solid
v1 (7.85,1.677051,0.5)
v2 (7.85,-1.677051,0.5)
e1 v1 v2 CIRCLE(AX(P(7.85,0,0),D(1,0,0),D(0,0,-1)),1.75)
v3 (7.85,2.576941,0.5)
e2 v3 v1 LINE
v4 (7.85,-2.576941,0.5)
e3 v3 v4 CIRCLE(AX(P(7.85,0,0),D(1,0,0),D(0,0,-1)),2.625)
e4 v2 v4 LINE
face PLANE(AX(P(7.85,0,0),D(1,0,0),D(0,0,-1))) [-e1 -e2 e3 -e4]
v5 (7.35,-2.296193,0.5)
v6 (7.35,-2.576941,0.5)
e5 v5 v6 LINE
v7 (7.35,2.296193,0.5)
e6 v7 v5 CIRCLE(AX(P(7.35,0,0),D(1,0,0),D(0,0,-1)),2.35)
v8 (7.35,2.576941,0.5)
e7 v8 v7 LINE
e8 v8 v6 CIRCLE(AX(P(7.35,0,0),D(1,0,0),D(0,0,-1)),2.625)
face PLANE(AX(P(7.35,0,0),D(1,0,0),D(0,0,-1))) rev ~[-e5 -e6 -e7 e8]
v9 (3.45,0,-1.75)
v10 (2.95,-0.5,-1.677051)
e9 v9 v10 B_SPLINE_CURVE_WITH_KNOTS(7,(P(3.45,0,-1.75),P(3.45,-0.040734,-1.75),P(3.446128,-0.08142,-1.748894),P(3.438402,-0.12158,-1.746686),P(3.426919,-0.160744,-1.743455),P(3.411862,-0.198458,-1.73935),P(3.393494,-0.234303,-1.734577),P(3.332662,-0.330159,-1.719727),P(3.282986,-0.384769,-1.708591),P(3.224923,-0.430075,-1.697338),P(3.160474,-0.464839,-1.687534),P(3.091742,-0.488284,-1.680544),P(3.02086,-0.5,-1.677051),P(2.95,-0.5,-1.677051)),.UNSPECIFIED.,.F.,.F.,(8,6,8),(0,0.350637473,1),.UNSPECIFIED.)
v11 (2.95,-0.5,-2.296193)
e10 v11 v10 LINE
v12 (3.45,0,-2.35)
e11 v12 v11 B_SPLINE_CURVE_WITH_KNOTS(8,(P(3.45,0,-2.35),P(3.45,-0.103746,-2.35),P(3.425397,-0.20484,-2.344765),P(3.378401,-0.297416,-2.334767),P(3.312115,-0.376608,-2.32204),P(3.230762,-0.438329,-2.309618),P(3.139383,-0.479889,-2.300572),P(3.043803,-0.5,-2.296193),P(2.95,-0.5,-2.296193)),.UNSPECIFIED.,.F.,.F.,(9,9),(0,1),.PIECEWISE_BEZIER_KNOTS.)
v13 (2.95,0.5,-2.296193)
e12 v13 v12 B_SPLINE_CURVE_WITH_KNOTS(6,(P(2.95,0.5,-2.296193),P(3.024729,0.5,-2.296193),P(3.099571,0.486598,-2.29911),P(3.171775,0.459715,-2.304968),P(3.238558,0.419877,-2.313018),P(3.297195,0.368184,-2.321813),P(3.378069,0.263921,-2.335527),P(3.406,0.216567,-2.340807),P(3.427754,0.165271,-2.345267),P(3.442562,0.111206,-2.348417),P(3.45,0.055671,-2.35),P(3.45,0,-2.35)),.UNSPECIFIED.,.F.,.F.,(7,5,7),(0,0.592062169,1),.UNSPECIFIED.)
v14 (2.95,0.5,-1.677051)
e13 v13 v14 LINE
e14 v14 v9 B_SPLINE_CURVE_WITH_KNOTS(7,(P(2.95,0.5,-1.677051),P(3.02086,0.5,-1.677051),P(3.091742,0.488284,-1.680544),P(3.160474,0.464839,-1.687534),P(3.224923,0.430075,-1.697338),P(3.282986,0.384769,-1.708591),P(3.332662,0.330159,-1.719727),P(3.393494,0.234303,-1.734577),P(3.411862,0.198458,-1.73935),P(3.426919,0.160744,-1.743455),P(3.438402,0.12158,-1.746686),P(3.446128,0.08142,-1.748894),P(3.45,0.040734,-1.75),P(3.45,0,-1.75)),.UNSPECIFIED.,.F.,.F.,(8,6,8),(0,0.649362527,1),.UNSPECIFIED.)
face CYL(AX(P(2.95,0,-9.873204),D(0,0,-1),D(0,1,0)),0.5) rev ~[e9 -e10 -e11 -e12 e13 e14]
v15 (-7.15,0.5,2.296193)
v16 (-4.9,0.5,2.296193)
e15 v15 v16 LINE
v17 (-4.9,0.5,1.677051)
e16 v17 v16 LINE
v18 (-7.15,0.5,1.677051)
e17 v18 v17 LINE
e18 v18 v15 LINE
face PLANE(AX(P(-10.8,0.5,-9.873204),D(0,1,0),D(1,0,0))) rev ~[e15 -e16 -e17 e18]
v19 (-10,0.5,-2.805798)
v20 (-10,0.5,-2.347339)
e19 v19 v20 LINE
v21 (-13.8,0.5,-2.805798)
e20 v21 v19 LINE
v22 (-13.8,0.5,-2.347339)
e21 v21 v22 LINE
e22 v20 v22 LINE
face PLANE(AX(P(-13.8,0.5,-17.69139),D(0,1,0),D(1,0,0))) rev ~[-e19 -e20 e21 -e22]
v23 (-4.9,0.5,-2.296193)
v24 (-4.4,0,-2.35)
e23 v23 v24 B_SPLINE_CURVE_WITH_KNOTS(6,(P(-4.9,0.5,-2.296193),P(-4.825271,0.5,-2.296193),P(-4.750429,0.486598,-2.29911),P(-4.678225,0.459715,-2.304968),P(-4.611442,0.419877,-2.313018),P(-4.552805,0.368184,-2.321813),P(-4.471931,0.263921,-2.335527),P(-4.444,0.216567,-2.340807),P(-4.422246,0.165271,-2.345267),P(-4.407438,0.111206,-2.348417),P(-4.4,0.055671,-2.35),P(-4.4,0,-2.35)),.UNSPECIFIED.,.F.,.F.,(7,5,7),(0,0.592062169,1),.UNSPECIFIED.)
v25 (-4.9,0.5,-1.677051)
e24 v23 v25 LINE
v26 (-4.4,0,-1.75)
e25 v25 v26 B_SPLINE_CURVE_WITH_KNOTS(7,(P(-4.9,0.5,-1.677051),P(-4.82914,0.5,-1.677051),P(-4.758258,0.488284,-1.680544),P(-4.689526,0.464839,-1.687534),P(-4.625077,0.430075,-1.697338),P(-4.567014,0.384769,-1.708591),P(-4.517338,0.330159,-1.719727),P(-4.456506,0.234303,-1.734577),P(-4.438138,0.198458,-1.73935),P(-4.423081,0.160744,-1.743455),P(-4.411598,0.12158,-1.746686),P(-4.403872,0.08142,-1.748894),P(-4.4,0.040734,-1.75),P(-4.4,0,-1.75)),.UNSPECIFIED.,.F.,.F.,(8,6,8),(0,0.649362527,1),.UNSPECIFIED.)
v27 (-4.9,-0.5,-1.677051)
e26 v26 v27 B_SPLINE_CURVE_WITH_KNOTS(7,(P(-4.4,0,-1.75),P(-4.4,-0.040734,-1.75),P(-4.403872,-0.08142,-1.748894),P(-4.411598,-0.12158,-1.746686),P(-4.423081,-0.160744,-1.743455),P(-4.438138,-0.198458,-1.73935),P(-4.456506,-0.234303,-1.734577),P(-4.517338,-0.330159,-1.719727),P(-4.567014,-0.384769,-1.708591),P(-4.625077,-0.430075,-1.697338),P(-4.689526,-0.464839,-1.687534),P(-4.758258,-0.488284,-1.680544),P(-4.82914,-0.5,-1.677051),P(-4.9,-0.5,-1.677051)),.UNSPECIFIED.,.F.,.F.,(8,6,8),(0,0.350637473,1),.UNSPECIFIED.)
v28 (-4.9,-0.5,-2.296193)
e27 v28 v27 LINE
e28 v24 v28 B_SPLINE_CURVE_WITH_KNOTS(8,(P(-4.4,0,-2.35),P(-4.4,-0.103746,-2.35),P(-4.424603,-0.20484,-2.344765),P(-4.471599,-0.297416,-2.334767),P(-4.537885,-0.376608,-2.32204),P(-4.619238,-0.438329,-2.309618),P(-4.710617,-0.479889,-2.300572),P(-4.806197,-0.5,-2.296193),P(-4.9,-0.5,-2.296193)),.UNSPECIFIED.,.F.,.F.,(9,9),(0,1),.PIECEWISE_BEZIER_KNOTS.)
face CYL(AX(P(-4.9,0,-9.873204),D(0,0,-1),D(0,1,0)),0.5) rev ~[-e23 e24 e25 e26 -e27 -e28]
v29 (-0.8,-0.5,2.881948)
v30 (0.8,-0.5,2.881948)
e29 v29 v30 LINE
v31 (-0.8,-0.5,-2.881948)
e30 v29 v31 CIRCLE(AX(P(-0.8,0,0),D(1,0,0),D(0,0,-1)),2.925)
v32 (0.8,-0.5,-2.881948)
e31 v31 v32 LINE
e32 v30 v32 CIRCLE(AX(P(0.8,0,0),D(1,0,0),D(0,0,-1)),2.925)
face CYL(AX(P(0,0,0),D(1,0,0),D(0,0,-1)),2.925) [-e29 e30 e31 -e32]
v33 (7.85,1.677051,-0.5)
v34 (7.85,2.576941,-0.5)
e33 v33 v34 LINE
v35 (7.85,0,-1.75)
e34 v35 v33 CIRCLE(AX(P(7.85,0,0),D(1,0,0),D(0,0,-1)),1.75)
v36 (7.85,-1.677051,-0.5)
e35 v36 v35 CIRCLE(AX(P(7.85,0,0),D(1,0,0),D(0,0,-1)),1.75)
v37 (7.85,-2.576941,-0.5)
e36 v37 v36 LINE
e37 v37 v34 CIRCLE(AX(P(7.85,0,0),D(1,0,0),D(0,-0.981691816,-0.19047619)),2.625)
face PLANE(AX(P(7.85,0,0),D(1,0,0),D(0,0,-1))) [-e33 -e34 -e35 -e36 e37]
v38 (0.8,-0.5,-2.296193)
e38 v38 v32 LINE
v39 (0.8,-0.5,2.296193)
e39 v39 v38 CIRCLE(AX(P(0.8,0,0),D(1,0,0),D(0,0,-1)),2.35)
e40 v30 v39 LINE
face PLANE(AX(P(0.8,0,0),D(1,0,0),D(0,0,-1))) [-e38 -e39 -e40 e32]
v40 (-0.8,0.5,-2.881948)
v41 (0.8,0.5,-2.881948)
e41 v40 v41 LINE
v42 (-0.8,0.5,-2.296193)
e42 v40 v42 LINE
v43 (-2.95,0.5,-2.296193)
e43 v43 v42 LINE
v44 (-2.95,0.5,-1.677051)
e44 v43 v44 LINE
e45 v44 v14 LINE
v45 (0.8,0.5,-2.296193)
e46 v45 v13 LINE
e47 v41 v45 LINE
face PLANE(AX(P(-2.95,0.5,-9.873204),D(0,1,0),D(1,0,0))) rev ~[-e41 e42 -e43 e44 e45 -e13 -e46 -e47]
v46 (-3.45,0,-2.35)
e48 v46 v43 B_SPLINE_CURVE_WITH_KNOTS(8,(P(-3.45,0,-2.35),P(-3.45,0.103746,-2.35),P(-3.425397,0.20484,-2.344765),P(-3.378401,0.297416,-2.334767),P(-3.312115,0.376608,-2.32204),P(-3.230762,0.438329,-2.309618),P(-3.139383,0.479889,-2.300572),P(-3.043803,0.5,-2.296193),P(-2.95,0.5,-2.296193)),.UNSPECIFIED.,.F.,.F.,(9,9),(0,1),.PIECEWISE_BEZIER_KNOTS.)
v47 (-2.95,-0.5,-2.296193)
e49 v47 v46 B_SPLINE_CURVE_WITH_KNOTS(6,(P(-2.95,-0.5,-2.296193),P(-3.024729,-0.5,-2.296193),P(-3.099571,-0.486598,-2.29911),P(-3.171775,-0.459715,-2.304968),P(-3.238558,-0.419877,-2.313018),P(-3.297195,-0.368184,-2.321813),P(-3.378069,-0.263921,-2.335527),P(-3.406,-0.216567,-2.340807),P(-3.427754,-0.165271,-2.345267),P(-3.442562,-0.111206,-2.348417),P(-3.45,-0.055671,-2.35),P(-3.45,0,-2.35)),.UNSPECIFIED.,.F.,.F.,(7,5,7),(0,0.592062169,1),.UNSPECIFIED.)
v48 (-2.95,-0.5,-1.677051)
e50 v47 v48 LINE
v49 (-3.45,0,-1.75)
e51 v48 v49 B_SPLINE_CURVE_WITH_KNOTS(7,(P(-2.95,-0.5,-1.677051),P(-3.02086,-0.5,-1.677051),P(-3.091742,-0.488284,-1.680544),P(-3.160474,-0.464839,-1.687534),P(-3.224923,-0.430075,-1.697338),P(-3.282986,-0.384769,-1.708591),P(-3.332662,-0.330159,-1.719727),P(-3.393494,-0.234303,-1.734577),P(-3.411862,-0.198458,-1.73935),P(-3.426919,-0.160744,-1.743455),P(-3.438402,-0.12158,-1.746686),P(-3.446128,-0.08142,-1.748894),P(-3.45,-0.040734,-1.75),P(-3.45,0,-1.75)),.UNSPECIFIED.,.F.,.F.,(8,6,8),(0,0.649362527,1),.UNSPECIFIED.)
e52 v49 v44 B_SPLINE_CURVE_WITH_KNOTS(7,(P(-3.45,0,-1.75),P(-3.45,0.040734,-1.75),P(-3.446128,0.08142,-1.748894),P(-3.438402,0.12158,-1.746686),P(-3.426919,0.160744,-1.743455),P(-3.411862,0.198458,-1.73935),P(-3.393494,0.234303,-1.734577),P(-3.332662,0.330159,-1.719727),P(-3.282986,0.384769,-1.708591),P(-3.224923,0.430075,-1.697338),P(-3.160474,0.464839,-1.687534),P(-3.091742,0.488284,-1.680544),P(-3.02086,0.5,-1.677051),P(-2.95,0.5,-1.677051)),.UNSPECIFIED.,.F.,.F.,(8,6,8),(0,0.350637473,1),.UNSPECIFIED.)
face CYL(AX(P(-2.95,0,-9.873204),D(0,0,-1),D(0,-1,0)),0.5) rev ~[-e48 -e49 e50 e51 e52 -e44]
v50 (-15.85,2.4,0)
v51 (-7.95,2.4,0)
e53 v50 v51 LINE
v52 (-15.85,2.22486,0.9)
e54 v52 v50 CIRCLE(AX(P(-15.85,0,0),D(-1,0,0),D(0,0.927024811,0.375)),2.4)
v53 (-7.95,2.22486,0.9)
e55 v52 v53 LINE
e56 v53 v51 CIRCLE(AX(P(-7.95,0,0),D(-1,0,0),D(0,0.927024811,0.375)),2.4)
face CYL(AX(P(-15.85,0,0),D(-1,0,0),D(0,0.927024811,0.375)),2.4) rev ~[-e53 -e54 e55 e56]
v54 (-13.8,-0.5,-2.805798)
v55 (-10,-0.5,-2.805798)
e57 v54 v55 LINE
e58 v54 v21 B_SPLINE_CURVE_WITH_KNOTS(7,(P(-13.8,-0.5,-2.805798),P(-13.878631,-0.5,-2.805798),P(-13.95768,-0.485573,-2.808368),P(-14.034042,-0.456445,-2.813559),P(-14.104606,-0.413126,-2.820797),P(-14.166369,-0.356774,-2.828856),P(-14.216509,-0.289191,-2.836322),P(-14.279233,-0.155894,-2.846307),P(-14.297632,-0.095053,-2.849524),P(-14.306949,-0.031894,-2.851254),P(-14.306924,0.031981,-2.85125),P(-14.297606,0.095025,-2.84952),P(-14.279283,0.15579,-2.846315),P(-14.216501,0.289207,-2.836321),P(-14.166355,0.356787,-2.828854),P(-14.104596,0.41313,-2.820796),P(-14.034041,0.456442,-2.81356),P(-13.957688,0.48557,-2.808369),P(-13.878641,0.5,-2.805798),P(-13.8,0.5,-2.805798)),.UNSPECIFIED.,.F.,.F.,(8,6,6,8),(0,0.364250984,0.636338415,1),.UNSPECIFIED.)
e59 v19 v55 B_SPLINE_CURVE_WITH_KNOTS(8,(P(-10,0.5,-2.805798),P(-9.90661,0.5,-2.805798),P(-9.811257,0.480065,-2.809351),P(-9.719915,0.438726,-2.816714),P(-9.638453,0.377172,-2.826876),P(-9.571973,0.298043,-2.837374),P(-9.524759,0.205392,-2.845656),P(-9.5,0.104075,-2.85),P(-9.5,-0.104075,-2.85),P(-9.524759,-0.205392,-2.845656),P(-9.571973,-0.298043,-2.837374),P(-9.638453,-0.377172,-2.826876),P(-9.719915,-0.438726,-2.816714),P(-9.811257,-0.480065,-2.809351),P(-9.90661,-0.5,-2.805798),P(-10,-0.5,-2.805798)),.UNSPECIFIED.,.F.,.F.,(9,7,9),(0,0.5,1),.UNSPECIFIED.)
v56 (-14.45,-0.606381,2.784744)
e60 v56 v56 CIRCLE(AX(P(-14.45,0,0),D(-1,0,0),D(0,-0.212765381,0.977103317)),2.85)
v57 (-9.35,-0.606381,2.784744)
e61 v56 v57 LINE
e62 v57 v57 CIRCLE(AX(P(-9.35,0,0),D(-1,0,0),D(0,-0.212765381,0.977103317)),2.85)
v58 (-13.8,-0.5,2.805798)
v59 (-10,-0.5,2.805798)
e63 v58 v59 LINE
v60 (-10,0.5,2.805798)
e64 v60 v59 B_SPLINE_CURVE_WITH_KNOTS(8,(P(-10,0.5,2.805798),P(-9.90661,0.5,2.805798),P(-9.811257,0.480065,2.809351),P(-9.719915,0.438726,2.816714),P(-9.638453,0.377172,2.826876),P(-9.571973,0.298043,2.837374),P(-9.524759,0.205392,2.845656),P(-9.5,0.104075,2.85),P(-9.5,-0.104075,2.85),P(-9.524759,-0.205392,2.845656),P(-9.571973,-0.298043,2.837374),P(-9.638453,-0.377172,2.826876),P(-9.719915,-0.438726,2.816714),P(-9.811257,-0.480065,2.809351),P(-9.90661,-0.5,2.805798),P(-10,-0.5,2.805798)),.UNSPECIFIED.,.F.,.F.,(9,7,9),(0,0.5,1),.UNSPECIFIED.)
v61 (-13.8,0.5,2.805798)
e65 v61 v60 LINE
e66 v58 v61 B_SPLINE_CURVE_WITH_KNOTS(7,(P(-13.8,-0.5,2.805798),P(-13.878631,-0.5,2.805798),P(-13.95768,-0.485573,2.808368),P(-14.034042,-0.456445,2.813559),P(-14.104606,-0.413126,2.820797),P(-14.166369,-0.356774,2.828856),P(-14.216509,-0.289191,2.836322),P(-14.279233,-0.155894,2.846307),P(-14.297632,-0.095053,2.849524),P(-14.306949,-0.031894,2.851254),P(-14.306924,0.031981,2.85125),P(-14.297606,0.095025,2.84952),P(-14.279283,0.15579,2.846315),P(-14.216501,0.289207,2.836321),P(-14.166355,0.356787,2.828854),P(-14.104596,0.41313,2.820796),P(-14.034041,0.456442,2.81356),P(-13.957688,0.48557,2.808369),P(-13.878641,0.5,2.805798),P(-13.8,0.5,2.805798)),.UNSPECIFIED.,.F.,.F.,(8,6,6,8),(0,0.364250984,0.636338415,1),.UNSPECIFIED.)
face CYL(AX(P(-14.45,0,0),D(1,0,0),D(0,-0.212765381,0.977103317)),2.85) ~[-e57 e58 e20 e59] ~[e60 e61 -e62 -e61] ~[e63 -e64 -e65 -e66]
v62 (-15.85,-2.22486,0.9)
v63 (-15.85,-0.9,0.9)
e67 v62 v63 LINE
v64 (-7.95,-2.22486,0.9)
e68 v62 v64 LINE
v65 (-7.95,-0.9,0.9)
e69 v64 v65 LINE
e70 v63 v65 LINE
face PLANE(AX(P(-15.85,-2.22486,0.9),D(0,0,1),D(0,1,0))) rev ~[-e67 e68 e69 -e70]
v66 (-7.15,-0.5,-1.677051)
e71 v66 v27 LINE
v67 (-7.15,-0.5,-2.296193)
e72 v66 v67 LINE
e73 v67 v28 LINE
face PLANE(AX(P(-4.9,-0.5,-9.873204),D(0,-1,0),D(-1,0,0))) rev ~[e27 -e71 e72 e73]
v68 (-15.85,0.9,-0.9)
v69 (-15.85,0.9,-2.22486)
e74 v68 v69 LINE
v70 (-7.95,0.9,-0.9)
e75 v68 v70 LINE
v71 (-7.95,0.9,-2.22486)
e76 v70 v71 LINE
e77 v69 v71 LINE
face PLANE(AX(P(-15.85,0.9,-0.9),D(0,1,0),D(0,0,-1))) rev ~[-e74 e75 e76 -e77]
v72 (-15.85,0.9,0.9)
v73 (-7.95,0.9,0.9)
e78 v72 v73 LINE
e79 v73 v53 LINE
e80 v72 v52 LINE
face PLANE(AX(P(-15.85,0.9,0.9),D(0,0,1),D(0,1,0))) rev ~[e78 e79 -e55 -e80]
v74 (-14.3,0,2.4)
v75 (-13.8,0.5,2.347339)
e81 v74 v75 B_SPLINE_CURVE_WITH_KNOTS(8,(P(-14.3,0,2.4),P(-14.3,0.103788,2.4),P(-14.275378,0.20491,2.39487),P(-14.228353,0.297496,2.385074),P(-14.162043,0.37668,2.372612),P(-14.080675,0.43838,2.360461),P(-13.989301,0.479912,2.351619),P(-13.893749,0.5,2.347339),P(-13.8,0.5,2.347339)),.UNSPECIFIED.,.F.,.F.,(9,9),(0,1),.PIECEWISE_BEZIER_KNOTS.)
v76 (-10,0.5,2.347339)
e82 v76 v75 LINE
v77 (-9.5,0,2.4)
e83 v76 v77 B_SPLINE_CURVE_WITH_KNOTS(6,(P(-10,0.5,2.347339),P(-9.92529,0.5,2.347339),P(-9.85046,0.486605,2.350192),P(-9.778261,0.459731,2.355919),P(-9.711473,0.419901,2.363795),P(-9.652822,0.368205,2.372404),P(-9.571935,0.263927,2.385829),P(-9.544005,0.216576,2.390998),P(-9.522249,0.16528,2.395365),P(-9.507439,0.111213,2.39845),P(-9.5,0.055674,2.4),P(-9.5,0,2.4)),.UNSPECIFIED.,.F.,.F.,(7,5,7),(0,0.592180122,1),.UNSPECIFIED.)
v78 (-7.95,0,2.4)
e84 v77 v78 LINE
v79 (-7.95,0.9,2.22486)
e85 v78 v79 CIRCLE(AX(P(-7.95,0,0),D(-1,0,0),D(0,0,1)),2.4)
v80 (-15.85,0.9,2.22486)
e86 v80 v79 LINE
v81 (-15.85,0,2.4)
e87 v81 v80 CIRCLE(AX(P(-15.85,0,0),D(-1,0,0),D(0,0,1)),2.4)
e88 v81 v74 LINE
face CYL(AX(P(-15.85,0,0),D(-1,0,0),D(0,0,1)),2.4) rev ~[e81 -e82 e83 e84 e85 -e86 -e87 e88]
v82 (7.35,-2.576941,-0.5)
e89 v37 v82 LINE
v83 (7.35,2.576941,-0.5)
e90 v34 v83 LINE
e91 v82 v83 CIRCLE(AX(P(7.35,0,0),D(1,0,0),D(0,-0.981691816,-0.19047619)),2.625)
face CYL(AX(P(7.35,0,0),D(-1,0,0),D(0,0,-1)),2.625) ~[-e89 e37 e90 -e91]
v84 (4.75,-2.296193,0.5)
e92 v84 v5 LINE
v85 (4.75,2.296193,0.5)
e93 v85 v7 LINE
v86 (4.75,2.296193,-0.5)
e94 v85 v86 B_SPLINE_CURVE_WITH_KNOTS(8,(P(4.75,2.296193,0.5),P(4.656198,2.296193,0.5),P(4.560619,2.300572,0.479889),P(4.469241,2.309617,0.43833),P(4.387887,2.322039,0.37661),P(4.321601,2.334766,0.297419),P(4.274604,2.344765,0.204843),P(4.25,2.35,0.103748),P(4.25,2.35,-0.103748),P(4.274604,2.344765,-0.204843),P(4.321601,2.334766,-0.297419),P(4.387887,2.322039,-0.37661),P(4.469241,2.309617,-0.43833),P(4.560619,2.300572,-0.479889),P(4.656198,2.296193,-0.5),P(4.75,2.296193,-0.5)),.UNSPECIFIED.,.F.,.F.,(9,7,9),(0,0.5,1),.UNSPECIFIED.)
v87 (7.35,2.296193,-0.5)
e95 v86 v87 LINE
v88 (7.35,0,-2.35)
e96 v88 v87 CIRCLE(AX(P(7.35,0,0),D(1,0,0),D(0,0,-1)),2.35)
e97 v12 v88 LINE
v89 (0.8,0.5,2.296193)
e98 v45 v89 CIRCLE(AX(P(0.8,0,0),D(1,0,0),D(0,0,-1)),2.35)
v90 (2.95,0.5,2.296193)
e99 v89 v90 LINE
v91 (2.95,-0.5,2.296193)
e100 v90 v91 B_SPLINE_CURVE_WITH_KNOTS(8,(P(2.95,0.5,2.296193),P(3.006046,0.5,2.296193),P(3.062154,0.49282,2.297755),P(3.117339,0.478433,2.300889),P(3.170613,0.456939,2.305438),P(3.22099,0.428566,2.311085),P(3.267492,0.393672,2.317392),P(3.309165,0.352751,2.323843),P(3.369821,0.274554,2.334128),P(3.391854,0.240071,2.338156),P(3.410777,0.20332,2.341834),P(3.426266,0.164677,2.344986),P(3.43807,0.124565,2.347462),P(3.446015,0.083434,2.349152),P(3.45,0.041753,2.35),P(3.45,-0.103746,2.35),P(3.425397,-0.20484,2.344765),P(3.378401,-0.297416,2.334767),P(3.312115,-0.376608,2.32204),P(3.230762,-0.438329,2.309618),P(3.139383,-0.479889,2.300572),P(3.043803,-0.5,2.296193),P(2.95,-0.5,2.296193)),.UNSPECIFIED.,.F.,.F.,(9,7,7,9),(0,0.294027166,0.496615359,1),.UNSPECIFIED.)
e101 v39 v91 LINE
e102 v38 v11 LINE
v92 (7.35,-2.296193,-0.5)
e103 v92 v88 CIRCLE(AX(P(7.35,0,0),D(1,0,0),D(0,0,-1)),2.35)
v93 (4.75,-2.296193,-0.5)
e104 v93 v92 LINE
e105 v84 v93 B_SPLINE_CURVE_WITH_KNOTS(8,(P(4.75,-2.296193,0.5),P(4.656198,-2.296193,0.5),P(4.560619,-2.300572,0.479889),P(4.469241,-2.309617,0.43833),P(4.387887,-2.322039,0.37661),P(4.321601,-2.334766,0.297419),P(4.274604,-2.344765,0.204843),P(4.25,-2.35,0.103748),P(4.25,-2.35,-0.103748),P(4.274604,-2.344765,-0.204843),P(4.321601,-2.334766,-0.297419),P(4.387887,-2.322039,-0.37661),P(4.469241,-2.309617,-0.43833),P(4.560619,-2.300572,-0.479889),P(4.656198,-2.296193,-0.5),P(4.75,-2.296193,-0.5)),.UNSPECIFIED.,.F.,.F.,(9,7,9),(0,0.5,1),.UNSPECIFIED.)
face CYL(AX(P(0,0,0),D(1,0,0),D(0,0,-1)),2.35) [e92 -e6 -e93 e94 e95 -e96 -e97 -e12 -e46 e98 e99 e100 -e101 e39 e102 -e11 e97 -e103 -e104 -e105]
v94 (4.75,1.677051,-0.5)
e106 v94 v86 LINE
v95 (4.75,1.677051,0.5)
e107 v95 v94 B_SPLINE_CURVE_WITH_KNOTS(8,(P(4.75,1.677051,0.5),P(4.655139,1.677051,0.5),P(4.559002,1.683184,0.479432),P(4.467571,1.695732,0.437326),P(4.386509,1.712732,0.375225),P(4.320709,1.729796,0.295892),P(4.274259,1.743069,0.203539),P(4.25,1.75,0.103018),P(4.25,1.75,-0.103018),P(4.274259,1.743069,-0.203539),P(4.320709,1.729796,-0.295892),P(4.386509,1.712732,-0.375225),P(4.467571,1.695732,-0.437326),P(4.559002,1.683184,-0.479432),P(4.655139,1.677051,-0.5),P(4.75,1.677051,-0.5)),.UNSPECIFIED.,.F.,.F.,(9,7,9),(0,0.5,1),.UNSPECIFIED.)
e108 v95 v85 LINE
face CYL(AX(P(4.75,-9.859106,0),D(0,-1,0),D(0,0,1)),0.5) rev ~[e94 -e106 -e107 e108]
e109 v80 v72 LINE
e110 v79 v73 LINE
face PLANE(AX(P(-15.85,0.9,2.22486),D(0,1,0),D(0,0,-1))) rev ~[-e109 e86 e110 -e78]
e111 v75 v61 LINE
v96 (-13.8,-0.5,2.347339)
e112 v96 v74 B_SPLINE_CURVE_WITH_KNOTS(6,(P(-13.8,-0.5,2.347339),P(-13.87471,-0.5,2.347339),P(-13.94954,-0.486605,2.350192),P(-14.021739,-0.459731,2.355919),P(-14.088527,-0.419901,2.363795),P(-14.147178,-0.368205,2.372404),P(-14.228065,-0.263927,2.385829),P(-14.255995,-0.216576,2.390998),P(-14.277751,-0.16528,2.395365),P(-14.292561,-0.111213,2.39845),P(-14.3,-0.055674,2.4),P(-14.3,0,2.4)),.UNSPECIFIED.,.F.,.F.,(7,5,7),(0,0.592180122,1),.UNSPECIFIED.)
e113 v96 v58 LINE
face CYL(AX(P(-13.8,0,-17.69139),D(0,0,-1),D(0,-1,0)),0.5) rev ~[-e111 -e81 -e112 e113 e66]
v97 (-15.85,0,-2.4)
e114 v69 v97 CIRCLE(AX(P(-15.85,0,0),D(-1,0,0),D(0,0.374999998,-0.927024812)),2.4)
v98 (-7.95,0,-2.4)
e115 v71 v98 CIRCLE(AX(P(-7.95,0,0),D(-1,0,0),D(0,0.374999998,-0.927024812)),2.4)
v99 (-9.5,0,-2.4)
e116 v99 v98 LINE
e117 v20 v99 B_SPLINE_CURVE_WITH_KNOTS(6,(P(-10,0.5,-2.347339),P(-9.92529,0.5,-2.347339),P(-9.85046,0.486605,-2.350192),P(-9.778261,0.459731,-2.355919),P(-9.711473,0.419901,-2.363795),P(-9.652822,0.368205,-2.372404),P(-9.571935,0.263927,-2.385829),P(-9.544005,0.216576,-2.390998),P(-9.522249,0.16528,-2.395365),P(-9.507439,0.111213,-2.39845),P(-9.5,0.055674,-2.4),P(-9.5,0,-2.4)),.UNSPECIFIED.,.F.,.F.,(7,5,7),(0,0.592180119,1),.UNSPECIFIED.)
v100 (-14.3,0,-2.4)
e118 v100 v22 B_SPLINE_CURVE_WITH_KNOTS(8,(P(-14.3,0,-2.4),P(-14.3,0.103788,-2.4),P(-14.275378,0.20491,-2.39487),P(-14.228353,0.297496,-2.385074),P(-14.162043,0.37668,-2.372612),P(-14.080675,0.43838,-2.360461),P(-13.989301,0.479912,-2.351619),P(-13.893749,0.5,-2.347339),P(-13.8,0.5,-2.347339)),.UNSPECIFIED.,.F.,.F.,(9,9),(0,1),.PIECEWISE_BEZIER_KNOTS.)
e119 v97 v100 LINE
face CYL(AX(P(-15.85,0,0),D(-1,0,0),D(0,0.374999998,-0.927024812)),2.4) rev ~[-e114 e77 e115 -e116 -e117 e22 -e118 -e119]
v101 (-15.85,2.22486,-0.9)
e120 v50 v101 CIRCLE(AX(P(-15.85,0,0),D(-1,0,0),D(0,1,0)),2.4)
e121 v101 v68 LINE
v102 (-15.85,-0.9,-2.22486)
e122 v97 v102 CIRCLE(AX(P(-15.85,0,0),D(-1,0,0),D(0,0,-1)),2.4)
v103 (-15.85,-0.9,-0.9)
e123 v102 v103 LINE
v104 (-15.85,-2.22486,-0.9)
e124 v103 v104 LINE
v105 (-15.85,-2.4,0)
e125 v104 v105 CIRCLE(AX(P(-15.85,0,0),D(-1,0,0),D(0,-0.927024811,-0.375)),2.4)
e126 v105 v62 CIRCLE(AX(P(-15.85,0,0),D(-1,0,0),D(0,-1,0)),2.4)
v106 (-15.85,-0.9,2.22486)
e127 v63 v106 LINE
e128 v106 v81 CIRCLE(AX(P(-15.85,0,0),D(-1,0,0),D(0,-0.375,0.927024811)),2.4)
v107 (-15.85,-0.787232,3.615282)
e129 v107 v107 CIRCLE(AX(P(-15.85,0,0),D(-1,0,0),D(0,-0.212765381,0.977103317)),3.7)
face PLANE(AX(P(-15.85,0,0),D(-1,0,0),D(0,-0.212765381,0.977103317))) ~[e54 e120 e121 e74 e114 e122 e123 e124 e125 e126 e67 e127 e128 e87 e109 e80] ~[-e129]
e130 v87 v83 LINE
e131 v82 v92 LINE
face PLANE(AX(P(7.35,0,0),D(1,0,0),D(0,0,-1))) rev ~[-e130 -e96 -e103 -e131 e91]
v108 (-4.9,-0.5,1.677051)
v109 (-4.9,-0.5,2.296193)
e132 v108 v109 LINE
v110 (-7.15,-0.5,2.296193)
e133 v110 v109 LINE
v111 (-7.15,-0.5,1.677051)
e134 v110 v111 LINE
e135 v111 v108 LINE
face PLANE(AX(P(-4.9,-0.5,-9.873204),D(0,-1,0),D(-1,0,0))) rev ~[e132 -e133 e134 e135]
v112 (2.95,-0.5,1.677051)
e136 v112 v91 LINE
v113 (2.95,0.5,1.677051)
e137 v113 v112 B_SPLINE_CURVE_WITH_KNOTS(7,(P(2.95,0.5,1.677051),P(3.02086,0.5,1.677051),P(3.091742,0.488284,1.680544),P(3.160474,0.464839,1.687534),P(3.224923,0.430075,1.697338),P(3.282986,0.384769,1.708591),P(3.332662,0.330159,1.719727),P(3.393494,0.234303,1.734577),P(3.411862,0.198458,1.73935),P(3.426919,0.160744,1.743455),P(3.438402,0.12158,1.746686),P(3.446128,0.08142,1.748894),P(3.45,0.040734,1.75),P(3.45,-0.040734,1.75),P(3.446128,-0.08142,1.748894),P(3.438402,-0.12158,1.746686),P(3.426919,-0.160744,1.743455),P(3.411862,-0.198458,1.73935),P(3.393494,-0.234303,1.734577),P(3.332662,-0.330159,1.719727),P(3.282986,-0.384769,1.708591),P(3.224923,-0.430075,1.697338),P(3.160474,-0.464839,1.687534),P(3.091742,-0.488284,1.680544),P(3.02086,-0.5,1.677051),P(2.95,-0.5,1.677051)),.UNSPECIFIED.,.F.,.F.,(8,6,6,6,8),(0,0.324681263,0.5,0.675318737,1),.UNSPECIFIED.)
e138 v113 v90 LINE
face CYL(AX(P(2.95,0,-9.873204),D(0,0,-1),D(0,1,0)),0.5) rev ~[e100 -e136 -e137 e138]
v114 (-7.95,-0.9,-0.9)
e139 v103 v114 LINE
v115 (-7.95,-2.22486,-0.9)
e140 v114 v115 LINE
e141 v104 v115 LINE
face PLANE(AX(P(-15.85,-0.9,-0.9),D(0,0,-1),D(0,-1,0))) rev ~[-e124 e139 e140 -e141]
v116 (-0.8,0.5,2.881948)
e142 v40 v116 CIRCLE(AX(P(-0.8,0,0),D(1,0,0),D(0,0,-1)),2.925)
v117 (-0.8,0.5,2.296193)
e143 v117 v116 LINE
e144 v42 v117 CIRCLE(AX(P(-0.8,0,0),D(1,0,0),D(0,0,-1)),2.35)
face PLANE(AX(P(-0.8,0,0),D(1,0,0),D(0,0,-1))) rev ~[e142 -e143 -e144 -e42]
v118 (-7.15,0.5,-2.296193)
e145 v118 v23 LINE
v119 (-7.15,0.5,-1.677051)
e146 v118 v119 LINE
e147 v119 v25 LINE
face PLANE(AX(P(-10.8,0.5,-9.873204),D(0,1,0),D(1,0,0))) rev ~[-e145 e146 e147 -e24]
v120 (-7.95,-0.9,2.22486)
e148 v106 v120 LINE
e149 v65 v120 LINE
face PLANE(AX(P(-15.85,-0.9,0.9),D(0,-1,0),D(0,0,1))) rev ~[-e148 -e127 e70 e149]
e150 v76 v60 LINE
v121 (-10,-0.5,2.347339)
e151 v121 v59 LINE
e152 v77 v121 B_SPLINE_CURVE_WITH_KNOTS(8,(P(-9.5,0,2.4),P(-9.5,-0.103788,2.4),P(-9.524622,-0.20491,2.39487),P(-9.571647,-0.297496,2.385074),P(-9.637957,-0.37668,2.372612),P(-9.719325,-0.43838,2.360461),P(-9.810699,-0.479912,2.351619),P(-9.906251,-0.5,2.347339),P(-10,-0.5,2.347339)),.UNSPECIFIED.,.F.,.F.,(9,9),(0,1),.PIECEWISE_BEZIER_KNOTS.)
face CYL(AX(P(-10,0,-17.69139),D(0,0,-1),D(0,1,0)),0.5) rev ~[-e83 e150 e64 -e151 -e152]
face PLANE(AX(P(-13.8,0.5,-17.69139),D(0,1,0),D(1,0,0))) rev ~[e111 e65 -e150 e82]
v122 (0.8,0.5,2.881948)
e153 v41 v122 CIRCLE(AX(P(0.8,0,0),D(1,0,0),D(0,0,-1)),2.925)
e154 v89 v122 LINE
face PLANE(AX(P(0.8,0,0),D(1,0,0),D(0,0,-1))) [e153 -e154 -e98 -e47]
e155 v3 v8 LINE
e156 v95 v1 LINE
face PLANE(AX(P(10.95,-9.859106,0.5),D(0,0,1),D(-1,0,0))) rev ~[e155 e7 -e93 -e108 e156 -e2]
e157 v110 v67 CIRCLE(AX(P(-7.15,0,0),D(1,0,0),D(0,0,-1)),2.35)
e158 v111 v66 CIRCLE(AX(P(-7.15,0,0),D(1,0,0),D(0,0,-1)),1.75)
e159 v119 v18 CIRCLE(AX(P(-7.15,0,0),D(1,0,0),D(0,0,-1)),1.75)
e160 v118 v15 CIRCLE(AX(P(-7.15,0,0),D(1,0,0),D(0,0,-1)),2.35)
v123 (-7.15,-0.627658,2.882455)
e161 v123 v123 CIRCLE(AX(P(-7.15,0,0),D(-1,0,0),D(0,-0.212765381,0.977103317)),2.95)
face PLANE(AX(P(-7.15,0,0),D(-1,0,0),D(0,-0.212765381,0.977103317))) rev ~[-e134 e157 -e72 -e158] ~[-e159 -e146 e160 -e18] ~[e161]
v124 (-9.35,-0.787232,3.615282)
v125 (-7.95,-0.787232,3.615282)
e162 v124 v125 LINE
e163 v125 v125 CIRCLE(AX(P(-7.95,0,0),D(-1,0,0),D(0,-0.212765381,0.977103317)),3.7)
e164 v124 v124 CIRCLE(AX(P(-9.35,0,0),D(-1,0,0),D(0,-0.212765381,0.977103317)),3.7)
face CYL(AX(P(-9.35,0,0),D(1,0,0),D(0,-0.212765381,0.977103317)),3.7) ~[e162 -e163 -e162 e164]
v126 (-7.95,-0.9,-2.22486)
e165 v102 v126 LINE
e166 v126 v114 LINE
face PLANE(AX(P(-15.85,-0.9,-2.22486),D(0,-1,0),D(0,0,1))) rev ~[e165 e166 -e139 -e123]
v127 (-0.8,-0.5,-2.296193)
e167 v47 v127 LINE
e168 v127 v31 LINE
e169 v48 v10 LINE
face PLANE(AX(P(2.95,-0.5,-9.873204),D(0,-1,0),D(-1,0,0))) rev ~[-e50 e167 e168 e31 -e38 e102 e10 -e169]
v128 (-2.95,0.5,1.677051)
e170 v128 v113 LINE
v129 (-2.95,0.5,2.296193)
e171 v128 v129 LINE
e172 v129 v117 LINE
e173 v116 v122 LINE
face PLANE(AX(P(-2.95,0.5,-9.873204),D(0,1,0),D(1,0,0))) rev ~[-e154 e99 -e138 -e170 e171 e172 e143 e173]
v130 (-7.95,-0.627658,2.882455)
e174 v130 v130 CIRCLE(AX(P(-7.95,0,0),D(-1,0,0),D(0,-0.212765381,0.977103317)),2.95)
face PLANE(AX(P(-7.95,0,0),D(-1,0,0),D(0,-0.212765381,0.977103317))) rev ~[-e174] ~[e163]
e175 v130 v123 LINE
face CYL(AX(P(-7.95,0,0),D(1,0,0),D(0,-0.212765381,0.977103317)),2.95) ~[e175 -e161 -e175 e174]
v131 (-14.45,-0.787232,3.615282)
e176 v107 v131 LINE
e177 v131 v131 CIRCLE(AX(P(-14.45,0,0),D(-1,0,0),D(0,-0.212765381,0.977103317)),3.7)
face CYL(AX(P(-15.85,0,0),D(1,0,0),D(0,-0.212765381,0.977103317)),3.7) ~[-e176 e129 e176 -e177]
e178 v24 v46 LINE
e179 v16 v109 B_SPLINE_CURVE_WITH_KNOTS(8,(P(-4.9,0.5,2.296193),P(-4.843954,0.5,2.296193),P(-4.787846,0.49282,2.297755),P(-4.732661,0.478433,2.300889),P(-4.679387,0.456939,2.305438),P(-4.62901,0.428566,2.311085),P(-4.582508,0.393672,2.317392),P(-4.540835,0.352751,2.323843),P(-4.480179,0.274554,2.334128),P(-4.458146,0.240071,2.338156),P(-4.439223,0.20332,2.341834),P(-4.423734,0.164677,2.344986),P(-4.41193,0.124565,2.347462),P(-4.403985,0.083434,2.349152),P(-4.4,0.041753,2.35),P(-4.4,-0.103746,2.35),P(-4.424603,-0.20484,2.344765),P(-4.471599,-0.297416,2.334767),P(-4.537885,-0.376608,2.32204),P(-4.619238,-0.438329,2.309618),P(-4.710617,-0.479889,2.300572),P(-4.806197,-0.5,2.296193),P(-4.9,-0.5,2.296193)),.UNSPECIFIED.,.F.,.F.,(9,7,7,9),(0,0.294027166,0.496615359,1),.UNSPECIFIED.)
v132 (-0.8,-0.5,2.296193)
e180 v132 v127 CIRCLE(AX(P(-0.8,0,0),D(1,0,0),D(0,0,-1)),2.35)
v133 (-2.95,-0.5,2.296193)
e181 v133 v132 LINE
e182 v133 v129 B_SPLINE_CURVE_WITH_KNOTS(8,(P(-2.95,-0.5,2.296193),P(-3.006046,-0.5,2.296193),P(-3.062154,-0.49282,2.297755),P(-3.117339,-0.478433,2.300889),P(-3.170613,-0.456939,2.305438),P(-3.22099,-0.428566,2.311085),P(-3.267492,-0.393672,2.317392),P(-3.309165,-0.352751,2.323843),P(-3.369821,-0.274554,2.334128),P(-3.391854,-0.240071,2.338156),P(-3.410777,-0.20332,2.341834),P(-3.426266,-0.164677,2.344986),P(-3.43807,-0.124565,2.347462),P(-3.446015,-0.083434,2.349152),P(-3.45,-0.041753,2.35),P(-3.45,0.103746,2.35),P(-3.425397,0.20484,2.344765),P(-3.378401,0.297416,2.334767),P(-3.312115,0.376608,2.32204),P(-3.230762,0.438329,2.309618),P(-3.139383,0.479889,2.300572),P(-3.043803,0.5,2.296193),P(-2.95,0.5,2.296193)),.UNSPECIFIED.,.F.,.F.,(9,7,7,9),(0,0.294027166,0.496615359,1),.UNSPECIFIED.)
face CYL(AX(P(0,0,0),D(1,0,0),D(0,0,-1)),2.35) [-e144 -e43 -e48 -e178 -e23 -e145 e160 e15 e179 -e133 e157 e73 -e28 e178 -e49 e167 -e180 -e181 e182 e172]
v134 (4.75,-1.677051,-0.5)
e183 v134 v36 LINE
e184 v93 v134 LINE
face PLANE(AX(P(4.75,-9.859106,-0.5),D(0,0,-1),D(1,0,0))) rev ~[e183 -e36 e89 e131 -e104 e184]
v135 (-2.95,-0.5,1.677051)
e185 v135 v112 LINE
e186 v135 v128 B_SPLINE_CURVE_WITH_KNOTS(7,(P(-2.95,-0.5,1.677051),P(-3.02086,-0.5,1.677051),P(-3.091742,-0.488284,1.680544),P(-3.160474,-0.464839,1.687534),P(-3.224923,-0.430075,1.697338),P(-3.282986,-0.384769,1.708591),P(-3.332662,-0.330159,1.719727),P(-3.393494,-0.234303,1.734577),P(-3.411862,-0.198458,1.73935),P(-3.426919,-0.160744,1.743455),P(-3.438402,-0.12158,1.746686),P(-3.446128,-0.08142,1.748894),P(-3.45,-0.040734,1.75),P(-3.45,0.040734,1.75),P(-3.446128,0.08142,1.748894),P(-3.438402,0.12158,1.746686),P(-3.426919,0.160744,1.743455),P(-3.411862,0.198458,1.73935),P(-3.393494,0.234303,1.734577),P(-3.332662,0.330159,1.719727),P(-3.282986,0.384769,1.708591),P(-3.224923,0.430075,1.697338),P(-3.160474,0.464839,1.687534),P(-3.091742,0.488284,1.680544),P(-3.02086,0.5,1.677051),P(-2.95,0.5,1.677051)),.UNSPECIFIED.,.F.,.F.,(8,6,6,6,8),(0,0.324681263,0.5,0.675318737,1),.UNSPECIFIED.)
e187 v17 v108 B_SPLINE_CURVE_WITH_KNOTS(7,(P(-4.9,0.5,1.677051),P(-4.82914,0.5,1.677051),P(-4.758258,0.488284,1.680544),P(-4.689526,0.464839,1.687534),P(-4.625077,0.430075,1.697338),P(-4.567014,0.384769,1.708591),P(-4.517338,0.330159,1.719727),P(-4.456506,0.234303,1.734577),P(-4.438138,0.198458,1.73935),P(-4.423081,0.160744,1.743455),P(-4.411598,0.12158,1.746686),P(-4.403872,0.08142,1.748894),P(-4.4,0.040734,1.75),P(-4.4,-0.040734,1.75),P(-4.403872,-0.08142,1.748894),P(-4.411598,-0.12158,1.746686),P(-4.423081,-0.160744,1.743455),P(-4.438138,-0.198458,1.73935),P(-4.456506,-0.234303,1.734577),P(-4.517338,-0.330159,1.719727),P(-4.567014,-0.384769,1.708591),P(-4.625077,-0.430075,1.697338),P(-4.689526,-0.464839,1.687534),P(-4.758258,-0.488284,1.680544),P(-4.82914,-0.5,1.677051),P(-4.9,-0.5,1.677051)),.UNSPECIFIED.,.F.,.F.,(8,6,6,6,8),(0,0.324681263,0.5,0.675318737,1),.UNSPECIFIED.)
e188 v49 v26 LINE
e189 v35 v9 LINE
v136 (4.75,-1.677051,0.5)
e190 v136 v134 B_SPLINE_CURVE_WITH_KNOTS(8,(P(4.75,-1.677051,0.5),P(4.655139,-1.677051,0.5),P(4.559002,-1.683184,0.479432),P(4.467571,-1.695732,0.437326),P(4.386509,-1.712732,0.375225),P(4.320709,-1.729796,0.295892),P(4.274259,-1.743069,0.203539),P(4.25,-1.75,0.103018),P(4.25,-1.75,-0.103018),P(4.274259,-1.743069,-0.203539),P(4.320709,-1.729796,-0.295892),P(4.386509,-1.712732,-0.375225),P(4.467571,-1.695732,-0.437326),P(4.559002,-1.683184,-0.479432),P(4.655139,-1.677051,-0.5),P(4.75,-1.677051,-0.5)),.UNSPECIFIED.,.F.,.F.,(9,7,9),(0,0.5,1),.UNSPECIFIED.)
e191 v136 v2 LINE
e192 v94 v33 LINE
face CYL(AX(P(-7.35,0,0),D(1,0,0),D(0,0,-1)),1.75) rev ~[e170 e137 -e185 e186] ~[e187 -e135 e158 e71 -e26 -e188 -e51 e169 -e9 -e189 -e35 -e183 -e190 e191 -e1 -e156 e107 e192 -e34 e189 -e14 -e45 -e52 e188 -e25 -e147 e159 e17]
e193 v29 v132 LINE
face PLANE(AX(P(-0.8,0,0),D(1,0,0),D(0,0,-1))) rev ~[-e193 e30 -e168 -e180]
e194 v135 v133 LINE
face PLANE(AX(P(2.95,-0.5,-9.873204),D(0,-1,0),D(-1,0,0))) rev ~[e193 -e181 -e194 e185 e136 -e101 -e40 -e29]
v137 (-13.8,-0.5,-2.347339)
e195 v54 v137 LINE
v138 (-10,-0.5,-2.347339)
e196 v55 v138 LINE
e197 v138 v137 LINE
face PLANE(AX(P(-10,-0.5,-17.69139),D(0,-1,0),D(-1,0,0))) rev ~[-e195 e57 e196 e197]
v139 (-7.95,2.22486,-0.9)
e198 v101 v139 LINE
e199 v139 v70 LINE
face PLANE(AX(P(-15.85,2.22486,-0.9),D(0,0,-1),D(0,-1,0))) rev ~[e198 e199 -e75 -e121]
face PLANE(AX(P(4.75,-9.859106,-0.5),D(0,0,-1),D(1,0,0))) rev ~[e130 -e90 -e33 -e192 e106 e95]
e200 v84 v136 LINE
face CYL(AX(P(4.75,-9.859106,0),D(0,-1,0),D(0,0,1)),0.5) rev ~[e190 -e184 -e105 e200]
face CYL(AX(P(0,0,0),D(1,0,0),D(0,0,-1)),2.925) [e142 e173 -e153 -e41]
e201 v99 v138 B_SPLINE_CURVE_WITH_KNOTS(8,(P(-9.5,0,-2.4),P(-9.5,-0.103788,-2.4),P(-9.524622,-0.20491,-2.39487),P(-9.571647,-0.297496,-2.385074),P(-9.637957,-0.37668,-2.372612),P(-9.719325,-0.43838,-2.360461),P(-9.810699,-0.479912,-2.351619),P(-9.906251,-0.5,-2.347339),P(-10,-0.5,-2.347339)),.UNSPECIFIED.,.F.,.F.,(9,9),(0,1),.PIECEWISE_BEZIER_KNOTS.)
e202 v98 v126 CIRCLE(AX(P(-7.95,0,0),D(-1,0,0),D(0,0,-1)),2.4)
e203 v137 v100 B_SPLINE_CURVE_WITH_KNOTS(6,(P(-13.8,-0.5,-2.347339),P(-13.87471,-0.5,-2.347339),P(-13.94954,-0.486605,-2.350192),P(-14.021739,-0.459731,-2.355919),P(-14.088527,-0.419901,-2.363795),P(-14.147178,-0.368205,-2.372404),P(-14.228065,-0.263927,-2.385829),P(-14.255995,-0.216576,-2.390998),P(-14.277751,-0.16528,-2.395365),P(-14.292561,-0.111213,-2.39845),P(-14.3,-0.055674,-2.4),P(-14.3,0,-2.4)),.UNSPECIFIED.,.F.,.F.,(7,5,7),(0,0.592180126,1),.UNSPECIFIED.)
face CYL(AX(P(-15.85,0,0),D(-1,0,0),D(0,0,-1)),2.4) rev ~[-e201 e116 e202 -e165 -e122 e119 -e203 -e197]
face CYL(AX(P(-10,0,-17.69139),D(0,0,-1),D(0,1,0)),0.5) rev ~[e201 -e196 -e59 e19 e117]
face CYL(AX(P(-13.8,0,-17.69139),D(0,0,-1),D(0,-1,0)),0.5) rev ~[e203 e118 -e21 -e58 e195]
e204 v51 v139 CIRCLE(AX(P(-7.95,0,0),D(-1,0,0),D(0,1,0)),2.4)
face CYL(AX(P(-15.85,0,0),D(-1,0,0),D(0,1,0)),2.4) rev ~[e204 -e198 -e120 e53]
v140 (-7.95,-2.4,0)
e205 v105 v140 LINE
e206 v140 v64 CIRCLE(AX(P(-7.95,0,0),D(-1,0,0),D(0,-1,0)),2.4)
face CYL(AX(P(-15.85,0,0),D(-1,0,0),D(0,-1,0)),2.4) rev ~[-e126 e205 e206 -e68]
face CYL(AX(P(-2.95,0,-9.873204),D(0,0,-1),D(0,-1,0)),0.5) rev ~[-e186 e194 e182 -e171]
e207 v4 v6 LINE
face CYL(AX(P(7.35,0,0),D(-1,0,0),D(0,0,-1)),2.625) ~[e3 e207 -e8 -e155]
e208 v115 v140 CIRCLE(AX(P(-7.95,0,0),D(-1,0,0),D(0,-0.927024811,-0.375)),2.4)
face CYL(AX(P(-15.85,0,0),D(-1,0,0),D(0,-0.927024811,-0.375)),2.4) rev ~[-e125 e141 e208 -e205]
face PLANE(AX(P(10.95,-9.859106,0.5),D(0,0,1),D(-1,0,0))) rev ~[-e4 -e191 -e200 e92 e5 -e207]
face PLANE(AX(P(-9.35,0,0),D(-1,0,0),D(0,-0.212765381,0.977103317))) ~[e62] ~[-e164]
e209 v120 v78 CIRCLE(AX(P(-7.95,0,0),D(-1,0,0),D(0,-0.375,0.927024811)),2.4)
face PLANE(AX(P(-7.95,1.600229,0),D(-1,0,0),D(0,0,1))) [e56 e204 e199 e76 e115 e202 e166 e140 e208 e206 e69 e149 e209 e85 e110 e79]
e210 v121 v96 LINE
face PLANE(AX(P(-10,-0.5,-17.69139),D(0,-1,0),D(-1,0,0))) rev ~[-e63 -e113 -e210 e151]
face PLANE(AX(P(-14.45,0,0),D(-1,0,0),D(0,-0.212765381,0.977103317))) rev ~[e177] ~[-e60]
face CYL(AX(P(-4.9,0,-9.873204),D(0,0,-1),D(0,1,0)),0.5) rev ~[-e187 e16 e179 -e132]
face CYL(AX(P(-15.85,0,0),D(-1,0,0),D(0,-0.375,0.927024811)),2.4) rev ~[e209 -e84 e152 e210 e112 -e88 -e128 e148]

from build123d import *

# Parameters (mm, degrees)
SKETCH1_R              = 2.925
SKETCH1_R_2            = 1.75
MIDDLE_RING_DEPTH      = 0.8
SKETCH2_R              = 2.35
SKETCH2_R_2            = 1.75
OUTER_BODY_DEPTH       = 7.35
SKETCH3_R              = 2.625
SKETCH3_R_2            = 1.75
OUTER_RIM_DEPTH        = 0.5
MIDDLE_SLOT_DEPTH      = 9.873204044
MIDDLE_SLOT_DEPTH_BACK = 9.873204044
SIDE_SLOTS_DEPTH       = 9.859105574
SIDE_SLOTS_DEPTH_BACK  = 9.859105574
SKETCH7_W              = 1.8
SKETCH7_H              = 1.8
AXLE_CUT_DEPTH         = 7.9
BUSH_SLOT_DEPTH        = 17.691389996
BUSH_SLOT_DEPTH_BACK   = 17.691389996


with BuildPart() as part:
    # Sketch1 → Middle Ring (new, symmetric)
    with BuildSketch(Plane(origin=(0, 0, 0), x_dir=(0, 0, -1), z_dir=(1, 0, 0))):
        Circle(SKETCH1_R)
        Circle(SKETCH1_R_2, mode=Mode.SUBTRACT)
    extrude(amount=MIDDLE_RING_DEPTH, both=True)

    # Sketch2 → Outer Body (add, symmetric)
    with BuildSketch(Plane(origin=(0, 0, 0), x_dir=(0, 0, -1), z_dir=(1, 0, 0))):
        Circle(SKETCH2_R)
        Circle(SKETCH2_R_2, mode=Mode.SUBTRACT)
    extrude(amount=OUTER_BODY_DEPTH, both=True)

    # Sketch3 → Outer Rim (add)
    with BuildSketch(Plane(origin=(7.35, 0, 0), x_dir=(0, 0, -1), z_dir=(1, 0, 0))):
        Circle(SKETCH3_R)
        Circle(SKETCH3_R_2, mode=Mode.SUBTRACT)
    outer_rim = extrude(amount=OUTER_RIM_DEPTH)

    # Mirror1: Outer Rim across plane
    add(outer_rim.mirror(Plane(origin=(0, 0, 0), x_dir=(0, 0, 1), z_dir=(1, 0, 0))))

    # Sketch4 → Middle Slot (cut, two sides: drawn at the far end of the back side and taken through both)
    with BuildSketch(Plane.XY.offset(-MIDDLE_SLOT_DEPTH_BACK)):
        with BuildLine():
            Line((2.95, -0.5), (-2.95, -0.5))
            ThreePointArc((-2.95, -0.5), (-3.45, 0), (-2.95, 0.5))
            Line((-2.95, 0.5), (2.95, 0.5))
            ThreePointArc((2.95, 0.5), (3.45, 0), (2.95, -0.5))
        make_face()
        with BuildLine():
            Line((-10.8, 0.5), (-4.9, 0.5))
            ThreePointArc((-4.9, 0.5), (-4.4, 0), (-4.9, -0.5))
            Line((-4.9, -0.5), (-10.8, -0.5))
            ThreePointArc((-10.8, -0.5), (-11.3, 0), (-10.8, 0.5))
        make_face()
    extrude(amount=MIDDLE_SLOT_DEPTH + MIDDLE_SLOT_DEPTH_BACK, mode=Mode.SUBTRACT)

    # Sketch5 → Side Slots (cut, two sides: drawn at the far end of the back side and taken through both)
    with BuildSketch(Plane(origin=(0, 0, 0), x_dir=(1, 0, 0), z_dir=(0, 1, 0)).offset(-SIDE_SLOTS_DEPTH_BACK)):
        with BuildLine():
            Line((10.95, -0.5), (4.75, -0.5))
            ThreePointArc((4.75, -0.5), (4.25, 0), (4.75, 0.5))
            Line((4.75, 0.5), (10.95, 0.5))
            ThreePointArc((10.95, 0.5), (11.45, 0), (10.95, -0.5))
        make_face()
    extrude(amount=SIDE_SLOTS_DEPTH + SIDE_SLOTS_DEPTH_BACK, mode=Mode.SUBTRACT)

    # Sketch6 → Large Bush (revolve)
    with BuildSketch(Plane.XY, mode=Mode.PRIVATE) as large_bush_sk:
        Polygon((-15.85, 0), (-15.85, 3.7), (-14.45, 3.7), (-14.45, 2.85), (-9.35, 2.85), (-9.35, 3.7), (-7.95, 3.7), (-7.95, 2.95), (-7.15, 2.95), (-7.15, 0), align=None)
    revolve(large_bush_sk.sketch.rotate(Axis((0, 0, 0), (-1, 0, 0)), 257.715539925), axis=Axis((0, 0, 0), (-1, 0, 0)))

    # Sketch7 → Axle Cut (cut)
    with BuildSketch(Plane.ZY.offset(15.85)):
        with BuildLine():
            Line((-0.9, 0.9), (0.9, 0.9))
            Line((0.9, 0.9), (0.9, 2.224859546))
            ThreePointArc((0.9, 2.224859546), (0.45844143, 2.355808026), (0, 2.4))
            ThreePointArc((0, 2.4), (-0.45844143, 2.355808026), (-0.9, 2.224859546))
            Line((-0.9, 2.224859546), (-0.9, 0.9))
        make_face()
        Rectangle(SKETCH7_W, SKETCH7_H)
        with BuildLine():
            Line((-2.224859546, -0.9), (-0.9, -0.9))
            Line((-0.9, -0.9), (-0.9, 0.9))
            Line((-0.9, 0.9), (-2.224859546, 0.9))
            ThreePointArc((-2.224859546, 0.9), (-2.355808026, 0.458441427), (-2.4, -5e-09))
            ThreePointArc((-2.4, -5e-09), (-2.355808026, -0.458441432), (-2.224859546, -0.9))
        make_face()
        with BuildLine():
            Line((0.9, 0.9), (0.9, -0.9))
            Line((0.9, -0.9), (2.224859546, -0.9))
            ThreePointArc((2.224859546, -0.9), (2.355808026, -0.45844143), (2.4, 0))
            ThreePointArc((2.4, 0), (2.355808026, 0.45844143), (2.224859546, 0.9))
            Line((2.224859546, 0.9), (0.9, 0.9))
        make_face()
        with BuildLine():
            ThreePointArc((-0.9, -2.224859546), (-0.45844143, -2.355808026), (0, -2.4))
            ThreePointArc((0, -2.4), (0.45844143, -2.355808026), (0.9, -2.224859546))
            Line((0.9, -2.224859546), (0.9, -0.9))
            Line((0.9, -0.9), (-0.9, -0.9))
            Line((-0.9, -0.9), (-0.9, -2.224859546))
        make_face()
    extrude(amount=-AXLE_CUT_DEPTH, mode=Mode.SUBTRACT)

    # Sketch9 → Bush Slot (cut, two sides: drawn at the far end of the back side and taken through both)
    with BuildSketch(Plane.XY.offset(-BUSH_SLOT_DEPTH_BACK)):
        with BuildLine():
            Line((-13.8, 0.5), (-10, 0.5))
            ThreePointArc((-10, 0.5), (-9.5, 0), (-10, -0.5))
            Line((-10, -0.5), (-13.8, -0.5))
            ThreePointArc((-13.8, -0.5), (-14.3, 0), (-13.8, 0.5))
        make_face()
    extrude(amount=BUSH_SLOT_DEPTH + BUSH_SLOT_DEPTH_BACK, mode=Mode.SUBTRACT)


solid = part.part
